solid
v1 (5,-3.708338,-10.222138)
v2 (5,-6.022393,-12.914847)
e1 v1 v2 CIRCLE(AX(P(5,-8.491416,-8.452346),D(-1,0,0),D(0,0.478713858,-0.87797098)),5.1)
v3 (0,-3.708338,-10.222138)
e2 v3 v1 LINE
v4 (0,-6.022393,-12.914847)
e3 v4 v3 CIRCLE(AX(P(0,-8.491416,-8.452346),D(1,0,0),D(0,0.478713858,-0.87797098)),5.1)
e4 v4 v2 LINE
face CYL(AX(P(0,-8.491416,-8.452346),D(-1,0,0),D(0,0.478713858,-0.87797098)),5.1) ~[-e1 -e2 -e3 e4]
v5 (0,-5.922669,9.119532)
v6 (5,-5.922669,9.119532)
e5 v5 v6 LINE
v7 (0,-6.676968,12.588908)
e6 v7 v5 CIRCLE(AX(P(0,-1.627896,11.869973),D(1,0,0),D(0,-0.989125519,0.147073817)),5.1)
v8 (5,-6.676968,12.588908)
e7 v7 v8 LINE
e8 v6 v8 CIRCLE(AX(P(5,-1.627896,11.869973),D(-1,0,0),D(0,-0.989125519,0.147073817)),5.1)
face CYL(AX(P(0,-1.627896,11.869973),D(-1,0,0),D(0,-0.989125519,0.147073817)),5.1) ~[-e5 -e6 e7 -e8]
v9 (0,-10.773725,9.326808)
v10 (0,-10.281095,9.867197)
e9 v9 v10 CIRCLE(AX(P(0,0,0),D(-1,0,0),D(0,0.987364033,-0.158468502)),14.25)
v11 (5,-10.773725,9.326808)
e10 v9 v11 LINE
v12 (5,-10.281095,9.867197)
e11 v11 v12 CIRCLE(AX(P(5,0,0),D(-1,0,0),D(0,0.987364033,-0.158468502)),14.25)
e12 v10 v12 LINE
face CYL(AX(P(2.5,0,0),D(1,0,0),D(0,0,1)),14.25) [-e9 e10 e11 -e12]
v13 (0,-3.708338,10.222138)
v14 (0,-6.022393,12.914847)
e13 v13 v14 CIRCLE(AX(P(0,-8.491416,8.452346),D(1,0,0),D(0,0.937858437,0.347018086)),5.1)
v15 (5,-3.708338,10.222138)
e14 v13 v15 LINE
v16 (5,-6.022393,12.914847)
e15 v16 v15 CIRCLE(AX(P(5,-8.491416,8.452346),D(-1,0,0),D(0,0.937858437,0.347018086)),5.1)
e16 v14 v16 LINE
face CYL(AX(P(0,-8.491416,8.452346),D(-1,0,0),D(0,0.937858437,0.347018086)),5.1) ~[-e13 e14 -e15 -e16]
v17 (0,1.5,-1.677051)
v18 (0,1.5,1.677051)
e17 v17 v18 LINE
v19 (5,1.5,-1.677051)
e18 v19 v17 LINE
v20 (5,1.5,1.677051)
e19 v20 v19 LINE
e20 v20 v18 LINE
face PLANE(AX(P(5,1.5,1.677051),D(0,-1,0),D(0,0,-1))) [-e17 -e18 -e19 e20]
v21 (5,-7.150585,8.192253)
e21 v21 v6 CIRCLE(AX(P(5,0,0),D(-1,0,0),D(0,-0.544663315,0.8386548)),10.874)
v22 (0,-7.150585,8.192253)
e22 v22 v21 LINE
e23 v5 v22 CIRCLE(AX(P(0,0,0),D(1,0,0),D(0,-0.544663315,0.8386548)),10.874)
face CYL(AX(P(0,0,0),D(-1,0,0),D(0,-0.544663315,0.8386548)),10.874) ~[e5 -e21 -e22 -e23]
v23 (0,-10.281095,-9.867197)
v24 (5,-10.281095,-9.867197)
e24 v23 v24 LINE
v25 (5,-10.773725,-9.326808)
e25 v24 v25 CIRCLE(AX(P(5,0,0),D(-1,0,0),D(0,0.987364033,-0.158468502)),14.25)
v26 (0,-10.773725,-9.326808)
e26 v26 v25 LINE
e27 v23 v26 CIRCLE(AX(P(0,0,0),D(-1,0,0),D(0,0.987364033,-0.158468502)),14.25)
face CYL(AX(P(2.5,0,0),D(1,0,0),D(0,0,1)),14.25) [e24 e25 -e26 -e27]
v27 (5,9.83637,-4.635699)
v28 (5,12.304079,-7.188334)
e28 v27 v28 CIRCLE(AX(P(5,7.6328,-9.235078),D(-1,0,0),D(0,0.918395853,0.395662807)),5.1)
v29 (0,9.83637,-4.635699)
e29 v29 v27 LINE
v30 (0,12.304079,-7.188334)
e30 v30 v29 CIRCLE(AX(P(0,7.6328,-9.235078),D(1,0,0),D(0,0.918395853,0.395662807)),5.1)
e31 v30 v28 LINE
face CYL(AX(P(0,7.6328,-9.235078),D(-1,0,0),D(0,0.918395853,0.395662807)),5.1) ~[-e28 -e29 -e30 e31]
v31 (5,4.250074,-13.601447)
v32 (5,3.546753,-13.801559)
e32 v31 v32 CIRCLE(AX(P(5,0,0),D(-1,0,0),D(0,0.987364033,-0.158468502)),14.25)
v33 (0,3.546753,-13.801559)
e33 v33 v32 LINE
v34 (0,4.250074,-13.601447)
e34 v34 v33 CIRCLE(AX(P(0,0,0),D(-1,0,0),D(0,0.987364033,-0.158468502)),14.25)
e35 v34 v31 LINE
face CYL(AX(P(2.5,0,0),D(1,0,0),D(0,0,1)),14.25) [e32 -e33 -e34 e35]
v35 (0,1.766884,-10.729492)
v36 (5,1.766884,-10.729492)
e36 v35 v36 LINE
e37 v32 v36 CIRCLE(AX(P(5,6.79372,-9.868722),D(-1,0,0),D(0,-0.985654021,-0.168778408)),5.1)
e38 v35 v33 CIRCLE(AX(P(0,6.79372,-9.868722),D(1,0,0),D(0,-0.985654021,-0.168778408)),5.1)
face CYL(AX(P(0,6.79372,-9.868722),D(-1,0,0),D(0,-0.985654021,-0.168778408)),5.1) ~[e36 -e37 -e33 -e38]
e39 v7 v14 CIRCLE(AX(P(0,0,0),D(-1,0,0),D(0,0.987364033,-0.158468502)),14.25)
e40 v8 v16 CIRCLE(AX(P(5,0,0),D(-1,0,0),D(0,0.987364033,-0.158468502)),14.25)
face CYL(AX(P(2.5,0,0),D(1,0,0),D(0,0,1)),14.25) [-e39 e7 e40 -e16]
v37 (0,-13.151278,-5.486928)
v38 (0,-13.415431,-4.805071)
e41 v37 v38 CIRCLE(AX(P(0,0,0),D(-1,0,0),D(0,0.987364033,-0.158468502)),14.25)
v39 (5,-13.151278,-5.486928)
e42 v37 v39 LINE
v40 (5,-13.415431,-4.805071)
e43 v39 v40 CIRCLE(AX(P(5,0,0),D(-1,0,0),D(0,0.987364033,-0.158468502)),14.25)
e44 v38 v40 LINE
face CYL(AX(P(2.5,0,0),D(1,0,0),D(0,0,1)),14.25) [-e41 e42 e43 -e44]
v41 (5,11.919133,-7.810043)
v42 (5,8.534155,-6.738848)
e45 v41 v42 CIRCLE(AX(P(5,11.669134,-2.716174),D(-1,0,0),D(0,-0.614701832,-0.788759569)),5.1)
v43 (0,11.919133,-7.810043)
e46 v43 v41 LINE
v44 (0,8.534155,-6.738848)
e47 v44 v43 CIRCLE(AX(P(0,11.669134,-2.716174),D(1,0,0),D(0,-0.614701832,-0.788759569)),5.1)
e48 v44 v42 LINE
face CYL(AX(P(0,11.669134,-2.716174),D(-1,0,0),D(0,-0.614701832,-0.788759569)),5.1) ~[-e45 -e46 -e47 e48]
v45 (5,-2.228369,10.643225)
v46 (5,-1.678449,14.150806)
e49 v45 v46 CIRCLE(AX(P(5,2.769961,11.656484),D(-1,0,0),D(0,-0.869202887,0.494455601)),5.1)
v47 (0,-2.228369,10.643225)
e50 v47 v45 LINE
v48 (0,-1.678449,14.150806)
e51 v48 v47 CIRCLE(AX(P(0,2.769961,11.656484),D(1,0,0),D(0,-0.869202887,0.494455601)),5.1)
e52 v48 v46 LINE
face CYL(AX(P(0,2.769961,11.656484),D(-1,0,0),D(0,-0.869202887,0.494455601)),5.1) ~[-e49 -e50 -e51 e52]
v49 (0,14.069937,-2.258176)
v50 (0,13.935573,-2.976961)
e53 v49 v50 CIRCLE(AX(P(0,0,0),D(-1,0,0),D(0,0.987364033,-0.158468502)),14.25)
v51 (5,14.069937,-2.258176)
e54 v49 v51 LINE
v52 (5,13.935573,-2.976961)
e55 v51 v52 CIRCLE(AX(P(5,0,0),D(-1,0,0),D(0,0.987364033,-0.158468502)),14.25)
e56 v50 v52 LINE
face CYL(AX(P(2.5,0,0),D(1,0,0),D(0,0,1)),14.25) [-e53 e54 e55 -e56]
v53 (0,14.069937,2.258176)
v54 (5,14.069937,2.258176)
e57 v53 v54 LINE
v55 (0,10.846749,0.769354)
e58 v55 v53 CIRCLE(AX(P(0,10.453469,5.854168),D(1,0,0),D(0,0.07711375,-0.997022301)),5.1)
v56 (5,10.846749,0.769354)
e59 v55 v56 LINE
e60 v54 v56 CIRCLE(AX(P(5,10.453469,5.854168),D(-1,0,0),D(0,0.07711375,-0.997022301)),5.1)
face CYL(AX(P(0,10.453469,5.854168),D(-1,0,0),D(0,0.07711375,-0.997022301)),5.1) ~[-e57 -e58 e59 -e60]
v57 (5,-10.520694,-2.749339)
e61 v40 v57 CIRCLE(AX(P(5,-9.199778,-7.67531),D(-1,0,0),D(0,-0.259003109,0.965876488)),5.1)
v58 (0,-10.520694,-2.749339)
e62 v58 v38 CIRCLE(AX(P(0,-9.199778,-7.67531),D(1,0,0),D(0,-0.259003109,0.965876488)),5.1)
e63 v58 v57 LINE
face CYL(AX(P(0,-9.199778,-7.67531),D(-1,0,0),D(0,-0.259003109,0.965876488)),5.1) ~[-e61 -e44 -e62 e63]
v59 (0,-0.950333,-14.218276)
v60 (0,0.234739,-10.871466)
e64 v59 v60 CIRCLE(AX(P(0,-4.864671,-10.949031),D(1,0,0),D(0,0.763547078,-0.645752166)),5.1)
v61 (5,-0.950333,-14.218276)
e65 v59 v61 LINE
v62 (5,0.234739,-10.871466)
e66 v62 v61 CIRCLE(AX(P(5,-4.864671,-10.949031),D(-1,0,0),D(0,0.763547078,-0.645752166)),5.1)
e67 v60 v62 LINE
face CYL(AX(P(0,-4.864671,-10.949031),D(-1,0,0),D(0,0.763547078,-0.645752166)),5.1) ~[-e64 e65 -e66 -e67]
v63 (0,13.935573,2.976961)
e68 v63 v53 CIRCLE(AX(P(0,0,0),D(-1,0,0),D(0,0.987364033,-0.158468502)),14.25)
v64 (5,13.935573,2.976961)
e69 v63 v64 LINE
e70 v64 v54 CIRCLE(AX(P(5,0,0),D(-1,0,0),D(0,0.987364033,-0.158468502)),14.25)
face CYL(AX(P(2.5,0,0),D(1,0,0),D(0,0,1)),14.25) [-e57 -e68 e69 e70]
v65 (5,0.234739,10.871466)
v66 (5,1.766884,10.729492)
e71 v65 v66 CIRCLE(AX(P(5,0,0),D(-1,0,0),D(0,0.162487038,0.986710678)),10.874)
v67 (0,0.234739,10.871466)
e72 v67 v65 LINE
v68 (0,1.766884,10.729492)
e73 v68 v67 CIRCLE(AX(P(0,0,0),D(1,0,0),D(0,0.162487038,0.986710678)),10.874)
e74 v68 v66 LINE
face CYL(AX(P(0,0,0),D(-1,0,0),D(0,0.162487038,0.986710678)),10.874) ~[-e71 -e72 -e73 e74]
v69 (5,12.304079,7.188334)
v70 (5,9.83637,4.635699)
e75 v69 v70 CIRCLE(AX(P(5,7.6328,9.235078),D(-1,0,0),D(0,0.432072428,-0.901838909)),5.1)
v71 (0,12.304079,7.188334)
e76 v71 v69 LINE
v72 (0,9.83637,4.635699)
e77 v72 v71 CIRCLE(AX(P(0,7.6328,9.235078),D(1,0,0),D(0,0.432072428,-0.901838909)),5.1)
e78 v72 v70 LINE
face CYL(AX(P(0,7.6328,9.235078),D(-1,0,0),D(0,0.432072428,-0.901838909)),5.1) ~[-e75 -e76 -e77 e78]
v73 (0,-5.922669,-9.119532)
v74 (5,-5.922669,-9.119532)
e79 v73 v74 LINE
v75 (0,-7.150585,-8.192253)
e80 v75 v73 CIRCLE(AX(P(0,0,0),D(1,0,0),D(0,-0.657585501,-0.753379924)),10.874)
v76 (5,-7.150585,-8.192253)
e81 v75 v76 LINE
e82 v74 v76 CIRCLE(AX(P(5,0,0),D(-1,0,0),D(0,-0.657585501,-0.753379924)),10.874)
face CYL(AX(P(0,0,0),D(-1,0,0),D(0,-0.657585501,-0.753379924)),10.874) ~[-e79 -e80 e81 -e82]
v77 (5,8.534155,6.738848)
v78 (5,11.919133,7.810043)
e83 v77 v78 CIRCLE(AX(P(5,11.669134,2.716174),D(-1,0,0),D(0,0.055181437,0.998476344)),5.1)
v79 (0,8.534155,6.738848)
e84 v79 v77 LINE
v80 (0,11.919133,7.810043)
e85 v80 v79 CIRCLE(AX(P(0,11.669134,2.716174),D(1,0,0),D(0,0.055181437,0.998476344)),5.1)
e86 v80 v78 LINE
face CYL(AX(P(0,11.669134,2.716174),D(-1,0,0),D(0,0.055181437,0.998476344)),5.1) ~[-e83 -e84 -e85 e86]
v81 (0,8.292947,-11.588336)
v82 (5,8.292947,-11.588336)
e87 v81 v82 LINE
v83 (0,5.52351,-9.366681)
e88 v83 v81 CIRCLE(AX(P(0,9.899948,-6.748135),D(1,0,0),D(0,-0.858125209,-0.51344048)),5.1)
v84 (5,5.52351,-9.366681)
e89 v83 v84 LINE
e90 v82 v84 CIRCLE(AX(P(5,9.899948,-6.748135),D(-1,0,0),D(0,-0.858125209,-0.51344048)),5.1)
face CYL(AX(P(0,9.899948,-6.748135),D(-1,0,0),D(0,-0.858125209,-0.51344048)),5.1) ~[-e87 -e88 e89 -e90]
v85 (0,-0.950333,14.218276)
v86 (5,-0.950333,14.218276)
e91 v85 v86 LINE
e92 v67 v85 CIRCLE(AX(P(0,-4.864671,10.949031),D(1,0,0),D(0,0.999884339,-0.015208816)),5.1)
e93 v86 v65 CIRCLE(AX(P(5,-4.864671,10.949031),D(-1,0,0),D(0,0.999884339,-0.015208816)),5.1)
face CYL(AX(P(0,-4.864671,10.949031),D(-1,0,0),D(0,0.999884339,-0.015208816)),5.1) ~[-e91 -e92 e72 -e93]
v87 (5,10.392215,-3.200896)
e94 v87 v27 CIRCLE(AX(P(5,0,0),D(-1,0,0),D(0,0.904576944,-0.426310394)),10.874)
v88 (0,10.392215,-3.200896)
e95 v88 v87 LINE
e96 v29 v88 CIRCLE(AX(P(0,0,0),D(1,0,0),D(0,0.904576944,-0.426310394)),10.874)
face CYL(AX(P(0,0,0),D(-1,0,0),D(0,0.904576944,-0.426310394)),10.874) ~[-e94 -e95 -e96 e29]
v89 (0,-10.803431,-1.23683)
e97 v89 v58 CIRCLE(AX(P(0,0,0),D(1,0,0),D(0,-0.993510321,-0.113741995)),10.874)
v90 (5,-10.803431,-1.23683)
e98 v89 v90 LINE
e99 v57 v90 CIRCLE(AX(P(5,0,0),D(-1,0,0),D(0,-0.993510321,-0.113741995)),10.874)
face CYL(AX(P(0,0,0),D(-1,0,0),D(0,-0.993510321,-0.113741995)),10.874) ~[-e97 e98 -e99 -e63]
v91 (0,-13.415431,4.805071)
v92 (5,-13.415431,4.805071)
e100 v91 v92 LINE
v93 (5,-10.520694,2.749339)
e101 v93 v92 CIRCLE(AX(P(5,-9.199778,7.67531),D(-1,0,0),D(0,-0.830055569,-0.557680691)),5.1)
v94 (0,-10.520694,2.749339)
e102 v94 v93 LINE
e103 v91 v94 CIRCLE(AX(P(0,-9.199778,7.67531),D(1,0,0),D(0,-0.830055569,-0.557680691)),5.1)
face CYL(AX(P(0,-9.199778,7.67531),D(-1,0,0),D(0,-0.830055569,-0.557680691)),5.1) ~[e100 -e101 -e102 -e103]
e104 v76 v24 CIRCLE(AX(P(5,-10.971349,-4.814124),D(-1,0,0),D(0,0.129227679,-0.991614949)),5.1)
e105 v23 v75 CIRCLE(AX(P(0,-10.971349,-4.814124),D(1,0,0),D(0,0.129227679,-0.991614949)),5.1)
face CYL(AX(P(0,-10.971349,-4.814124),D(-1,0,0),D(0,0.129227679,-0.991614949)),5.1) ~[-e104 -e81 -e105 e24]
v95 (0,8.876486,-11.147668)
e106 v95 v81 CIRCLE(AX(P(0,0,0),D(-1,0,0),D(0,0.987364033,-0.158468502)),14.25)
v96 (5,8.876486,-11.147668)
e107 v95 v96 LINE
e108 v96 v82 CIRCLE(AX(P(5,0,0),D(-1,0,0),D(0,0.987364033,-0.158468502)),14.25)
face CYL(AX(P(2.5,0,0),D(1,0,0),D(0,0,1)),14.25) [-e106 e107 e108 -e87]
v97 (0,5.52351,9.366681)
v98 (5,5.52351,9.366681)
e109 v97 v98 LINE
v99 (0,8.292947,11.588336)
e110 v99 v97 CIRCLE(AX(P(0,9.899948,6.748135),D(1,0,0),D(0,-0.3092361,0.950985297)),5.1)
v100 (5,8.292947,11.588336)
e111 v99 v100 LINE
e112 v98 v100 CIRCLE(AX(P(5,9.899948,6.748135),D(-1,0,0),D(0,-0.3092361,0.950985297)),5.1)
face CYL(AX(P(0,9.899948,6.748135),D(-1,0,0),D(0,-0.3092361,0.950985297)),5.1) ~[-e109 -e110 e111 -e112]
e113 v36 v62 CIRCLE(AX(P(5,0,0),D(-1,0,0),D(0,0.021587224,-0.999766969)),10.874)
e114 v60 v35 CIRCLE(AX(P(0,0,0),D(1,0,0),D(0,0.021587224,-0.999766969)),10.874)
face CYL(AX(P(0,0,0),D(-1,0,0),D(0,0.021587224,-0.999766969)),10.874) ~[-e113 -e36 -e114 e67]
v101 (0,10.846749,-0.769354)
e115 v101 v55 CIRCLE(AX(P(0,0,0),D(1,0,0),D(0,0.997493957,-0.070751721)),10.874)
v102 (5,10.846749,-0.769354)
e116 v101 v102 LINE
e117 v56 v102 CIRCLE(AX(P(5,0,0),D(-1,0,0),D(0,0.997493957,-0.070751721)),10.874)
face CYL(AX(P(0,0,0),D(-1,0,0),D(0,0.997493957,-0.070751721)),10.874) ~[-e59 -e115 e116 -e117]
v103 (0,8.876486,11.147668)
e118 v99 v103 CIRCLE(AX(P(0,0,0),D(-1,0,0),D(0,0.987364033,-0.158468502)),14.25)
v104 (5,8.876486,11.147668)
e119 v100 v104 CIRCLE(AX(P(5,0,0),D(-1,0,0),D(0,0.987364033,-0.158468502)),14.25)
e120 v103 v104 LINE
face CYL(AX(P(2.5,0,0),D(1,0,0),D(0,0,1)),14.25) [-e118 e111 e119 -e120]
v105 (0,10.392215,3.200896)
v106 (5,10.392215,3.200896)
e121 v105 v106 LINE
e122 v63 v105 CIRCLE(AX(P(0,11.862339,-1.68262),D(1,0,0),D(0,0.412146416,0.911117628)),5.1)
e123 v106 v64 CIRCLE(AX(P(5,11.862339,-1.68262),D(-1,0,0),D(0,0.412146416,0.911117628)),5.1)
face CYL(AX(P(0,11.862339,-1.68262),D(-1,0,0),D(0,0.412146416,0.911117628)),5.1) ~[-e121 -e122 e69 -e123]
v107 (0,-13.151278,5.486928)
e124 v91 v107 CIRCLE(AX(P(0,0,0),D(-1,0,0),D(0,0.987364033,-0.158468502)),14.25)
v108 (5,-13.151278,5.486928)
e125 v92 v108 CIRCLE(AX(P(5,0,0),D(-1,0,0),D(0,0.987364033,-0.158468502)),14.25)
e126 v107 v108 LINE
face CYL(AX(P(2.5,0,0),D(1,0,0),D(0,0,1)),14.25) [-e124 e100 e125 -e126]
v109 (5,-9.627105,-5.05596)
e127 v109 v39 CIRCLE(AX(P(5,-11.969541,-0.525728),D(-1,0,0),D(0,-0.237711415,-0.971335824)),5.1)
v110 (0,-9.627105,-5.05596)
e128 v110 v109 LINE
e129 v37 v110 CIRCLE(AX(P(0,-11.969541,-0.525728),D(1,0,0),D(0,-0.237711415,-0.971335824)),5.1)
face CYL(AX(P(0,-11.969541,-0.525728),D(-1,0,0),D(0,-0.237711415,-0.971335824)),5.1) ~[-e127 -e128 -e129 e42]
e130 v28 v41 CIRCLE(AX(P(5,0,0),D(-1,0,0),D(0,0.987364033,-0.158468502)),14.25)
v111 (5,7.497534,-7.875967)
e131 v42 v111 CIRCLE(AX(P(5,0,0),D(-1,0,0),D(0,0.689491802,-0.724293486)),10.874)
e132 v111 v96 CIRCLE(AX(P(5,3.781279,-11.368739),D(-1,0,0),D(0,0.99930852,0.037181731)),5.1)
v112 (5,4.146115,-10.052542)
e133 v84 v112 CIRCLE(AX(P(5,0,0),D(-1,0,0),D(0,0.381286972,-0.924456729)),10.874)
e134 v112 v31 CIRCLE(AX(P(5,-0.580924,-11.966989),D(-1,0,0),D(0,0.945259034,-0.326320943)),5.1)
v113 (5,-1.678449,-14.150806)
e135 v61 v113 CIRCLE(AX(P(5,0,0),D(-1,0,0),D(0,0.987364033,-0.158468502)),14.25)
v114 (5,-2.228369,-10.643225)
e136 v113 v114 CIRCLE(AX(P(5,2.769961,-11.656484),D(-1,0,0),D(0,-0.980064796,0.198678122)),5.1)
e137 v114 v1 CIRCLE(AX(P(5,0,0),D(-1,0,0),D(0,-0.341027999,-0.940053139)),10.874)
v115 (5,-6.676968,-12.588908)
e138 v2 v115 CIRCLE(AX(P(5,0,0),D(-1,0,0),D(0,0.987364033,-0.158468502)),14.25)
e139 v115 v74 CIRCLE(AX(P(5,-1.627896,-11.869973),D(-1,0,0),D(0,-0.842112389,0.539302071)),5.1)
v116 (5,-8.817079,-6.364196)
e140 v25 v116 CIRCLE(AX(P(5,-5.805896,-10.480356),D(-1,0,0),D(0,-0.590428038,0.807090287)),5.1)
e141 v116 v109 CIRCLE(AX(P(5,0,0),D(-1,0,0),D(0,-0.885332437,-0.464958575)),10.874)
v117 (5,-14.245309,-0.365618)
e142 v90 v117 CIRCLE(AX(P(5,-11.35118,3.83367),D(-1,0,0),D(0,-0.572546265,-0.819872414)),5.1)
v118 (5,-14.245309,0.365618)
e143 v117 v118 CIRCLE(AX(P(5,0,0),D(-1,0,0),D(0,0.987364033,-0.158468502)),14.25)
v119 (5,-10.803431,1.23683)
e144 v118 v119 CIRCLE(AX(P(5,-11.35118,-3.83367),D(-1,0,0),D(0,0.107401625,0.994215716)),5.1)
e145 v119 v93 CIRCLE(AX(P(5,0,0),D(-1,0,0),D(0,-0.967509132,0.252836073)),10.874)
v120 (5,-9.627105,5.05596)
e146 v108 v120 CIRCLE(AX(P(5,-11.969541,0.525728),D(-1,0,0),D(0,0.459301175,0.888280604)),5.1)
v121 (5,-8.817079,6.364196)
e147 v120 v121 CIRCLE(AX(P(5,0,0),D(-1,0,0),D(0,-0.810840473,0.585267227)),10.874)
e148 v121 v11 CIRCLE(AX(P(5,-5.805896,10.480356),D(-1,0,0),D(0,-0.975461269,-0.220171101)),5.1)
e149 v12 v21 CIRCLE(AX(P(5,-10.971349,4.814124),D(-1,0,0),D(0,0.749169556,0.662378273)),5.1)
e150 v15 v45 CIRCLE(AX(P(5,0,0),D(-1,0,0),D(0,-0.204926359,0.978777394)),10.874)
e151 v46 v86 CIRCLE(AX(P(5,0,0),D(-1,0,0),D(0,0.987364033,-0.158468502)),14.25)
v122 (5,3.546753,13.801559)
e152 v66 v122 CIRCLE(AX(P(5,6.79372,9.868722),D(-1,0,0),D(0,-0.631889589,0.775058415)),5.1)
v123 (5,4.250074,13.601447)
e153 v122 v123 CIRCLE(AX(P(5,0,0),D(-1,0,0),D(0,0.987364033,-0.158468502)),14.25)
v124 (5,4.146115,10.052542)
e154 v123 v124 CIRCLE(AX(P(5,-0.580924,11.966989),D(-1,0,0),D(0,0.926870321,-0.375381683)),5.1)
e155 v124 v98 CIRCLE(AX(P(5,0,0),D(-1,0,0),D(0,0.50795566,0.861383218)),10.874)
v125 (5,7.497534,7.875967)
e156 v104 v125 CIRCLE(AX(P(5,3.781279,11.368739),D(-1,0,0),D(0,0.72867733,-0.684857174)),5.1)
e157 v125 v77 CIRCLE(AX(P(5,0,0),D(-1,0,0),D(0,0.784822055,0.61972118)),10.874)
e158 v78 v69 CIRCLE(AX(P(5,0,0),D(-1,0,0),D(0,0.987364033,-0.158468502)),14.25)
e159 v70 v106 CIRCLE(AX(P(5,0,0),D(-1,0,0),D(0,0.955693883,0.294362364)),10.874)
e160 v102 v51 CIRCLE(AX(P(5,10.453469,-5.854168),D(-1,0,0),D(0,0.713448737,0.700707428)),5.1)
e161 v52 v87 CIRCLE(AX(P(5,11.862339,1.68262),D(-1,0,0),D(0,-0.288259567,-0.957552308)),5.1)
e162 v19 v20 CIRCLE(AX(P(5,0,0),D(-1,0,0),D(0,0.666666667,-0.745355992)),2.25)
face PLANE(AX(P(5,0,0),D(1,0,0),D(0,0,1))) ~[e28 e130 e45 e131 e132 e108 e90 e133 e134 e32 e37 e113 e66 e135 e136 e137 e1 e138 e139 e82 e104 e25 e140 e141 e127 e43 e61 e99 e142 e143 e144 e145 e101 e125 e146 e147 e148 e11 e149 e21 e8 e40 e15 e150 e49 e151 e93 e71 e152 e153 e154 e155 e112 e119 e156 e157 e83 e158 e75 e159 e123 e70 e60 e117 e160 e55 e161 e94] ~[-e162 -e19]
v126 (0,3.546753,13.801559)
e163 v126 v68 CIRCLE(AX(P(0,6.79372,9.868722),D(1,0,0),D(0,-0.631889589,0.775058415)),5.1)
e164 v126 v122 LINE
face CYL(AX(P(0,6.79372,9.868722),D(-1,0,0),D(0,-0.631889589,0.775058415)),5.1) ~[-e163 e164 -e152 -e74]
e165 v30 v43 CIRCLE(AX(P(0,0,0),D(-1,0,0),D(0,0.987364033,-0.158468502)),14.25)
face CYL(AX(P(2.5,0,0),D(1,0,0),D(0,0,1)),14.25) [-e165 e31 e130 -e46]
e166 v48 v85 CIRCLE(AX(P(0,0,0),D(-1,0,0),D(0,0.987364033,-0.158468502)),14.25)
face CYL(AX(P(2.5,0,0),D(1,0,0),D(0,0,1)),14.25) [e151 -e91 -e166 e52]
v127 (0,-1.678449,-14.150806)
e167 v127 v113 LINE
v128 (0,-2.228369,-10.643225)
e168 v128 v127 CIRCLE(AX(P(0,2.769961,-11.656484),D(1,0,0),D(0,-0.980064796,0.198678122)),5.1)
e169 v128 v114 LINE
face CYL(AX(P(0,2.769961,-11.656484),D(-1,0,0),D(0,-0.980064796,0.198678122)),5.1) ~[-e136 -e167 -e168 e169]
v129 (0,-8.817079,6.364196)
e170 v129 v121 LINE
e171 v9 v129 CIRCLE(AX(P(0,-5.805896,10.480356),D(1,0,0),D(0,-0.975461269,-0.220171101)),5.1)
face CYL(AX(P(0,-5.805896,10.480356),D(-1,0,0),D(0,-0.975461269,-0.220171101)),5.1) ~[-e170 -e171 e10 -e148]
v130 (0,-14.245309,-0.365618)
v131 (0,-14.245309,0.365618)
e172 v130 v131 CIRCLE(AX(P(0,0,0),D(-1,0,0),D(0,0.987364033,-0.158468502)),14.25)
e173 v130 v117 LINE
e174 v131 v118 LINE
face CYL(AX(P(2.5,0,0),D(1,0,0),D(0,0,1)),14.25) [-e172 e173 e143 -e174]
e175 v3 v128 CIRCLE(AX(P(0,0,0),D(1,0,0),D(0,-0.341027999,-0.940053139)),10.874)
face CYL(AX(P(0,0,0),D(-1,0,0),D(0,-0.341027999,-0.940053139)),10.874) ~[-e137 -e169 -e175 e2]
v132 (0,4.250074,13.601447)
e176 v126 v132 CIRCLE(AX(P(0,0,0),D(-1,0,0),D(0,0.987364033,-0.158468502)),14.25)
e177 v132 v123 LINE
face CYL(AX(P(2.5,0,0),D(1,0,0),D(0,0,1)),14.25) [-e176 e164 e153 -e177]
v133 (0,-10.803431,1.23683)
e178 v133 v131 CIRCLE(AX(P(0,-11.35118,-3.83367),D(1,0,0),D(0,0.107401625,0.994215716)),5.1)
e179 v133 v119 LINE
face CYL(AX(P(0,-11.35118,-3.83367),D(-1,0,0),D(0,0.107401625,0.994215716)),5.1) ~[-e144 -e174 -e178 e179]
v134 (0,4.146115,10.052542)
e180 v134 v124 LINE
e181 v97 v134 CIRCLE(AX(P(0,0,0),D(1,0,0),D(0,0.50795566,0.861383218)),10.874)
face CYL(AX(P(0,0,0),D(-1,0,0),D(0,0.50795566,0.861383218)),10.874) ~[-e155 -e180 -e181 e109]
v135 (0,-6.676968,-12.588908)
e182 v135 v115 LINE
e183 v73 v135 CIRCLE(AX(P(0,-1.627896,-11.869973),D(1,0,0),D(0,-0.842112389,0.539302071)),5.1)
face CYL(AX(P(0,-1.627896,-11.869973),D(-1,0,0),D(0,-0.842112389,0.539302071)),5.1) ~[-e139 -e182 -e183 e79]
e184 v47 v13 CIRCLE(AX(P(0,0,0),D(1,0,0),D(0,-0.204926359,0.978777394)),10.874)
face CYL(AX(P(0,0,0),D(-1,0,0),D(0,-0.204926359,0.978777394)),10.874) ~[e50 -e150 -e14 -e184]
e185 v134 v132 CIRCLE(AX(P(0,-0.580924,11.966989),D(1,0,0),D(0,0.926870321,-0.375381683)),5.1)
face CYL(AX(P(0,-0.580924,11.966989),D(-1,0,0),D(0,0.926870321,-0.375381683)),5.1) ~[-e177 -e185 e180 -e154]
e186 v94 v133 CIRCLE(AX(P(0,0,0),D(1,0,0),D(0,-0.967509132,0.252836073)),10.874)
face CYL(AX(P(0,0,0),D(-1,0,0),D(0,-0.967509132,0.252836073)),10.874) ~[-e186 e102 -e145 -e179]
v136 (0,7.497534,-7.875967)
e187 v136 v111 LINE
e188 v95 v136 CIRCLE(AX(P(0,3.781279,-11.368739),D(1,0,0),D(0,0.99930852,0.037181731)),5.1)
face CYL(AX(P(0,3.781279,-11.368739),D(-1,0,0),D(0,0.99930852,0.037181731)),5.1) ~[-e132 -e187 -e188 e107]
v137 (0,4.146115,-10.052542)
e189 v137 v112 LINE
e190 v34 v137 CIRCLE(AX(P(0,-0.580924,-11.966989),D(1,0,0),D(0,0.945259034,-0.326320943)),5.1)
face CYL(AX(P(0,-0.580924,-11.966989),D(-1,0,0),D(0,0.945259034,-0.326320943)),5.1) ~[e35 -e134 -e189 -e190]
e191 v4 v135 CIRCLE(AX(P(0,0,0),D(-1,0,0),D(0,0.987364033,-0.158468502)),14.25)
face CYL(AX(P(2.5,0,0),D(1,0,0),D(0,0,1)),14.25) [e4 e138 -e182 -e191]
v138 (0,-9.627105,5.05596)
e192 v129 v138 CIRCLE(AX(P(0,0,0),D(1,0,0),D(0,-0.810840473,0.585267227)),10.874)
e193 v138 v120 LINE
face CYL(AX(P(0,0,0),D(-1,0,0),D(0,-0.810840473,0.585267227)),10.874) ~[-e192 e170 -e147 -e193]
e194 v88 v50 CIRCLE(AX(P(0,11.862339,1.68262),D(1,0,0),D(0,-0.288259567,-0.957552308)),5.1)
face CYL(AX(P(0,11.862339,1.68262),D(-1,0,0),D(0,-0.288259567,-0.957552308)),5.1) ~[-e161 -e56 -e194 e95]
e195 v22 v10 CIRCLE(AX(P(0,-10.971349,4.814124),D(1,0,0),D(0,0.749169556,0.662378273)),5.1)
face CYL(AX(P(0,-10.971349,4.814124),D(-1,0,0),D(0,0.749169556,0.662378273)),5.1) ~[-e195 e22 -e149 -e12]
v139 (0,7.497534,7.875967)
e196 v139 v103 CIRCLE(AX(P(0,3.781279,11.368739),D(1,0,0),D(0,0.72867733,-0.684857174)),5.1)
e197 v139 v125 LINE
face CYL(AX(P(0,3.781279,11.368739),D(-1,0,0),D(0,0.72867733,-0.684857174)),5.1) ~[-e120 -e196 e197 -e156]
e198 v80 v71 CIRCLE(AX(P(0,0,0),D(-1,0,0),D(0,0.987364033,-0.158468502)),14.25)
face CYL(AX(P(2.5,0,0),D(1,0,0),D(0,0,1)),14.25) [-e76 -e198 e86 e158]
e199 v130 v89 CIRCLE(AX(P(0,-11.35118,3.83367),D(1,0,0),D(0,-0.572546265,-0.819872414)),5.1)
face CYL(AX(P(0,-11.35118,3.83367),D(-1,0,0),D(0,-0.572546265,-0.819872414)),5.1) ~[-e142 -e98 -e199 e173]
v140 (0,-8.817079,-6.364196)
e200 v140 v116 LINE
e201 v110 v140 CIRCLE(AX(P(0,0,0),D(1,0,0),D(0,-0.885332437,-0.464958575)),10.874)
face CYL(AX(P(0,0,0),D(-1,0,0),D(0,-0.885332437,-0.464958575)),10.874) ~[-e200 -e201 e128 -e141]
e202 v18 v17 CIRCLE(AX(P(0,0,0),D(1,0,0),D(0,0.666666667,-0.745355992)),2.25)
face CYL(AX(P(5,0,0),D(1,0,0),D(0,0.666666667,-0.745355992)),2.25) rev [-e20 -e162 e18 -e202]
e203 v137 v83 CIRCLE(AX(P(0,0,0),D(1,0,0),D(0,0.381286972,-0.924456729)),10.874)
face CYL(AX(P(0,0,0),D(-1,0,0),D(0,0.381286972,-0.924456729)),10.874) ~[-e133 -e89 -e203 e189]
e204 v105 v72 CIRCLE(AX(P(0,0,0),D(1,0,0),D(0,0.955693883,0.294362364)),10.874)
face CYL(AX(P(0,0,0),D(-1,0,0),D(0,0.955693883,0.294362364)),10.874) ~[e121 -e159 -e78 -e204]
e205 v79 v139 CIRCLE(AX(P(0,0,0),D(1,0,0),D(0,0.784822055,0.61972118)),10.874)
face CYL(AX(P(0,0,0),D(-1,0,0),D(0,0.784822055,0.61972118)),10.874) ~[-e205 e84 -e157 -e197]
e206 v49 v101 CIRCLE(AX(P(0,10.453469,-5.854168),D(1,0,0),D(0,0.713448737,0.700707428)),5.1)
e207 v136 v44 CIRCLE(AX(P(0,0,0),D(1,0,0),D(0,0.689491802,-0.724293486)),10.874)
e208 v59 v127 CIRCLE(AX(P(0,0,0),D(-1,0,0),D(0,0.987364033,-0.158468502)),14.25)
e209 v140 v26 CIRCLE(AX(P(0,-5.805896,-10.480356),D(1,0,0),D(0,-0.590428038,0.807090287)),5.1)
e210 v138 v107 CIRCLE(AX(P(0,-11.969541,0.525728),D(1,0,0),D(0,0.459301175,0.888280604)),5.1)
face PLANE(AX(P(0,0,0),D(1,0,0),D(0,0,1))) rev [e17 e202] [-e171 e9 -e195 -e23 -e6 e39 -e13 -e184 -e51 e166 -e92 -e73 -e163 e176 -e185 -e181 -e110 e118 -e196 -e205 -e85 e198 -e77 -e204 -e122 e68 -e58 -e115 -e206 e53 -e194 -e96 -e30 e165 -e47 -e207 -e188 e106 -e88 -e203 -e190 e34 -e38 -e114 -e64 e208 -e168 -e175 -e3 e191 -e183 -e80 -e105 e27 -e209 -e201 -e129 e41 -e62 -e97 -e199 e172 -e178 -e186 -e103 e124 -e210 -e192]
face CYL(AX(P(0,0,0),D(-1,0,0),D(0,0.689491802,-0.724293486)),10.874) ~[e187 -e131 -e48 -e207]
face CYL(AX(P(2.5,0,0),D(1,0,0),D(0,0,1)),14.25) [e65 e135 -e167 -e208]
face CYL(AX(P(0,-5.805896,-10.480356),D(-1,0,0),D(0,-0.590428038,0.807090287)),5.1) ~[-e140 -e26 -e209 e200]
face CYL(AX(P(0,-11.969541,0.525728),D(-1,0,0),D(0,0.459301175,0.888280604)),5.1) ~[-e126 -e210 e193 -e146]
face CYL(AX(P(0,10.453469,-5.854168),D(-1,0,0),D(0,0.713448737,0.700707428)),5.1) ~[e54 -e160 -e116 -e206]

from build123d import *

# Parameters (mm, degrees)
BASPROSKE_W        = 5
BASPROSKE_H        = 14.25
TOOTHCUT_DEPTH     = 21.763549793
TEETHCUTS_COUNT    = 17
TEETHCUTS_ANGLE    = 338.823529412
BORSKE_R           = 0.4
BORE_DEPTH         = 50.0000508
CUT_EXTRUDE1_DEPTH = 21.741790351


with BuildPart() as part:
    # BasProSke → Base-Revolve (revolve)
    with BuildSketch(Plane(origin=(0, 0, 0), x_dir=(1, 0, 0), z_dir=(0, 1, 0)), mode=Mode.PRIVATE) as base_revolve_sk:
        with Locations((2.5, 7.125)):
            Rectangle(BASPROSKE_W, BASPROSKE_H)
    revolve(base_revolve_sk.sketch.rotate(Axis((-10, 0, 0), (1, 0, 0)), 180), axis=Axis((-10, 0, 0), (1, 0, 0)))

    # TooCutSke → ToothCut (cut, through all)
    with BuildSketch(Plane(origin=(0, 0, 0), x_dir=(0, 0, -1), z_dir=(1, 0, 0))):
        with BuildLine():
            ThreePointArc((0.769354207, 10.846749287), (0, 10.874), (-0.769354207, 10.846749287))
            ThreePointArc((-0.769354207, 10.846749287), (-1.230849554, 12.606357238), (-2.280560064, 14.092057726))
            ThreePointArc((-2.280560064, 14.092057726), (0, 14.2754), (2.280560064, 14.092057726))
            ThreePointArc((2.280560064, 14.092057726), (1.230849554, 12.606357238), (0.769354207, 10.846749287))
        make_face()
    toothcut = extrude(amount=TOOTHCUT_DEPTH, mode=Mode.SUBTRACT)

    # TeethCuts: ToothCut ×17 about axis
    teethcuts_axis = Axis((-10, 0, 0), (1, 0, 0))
    for i in range(1, TEETHCUTS_COUNT):
        add(toothcut.rotate(teethcuts_axis, i * TEETHCUTS_ANGLE / (TEETHCUTS_COUNT - 1)), mode=Mode.SUBTRACT)

    # BorSke → Bore (cut, symmetric)
    with BuildSketch(Plane(origin=(0, 0, 0), x_dir=(0, 0, -1), z_dir=(1, 0, 0))):
        with Locations(Location((0, 0, 0), (0, 0, 180))):
            Circle(BORSKE_R)
    extrude(amount=BORE_DEPTH, both=True, mode=Mode.SUBTRACT)

    # Sketch1 → Cut-Extrude1 (cut, through all)
    with BuildSketch(Plane(origin=(5, 0, 0), x_dir=(0, 0, -1), z_dir=(1, 0, 0))):
        with BuildLine():
            Line((-1.677050983, 1.5), (1.677050983, 1.5))
            ThreePointArc((1.677050983, 1.5), (0, -2.25), (-1.677050983, 1.5))
        make_face()
    extrude(amount=-CUT_EXTRUDE1_DEPTH, mode=Mode.SUBTRACT)


solid = part.part
